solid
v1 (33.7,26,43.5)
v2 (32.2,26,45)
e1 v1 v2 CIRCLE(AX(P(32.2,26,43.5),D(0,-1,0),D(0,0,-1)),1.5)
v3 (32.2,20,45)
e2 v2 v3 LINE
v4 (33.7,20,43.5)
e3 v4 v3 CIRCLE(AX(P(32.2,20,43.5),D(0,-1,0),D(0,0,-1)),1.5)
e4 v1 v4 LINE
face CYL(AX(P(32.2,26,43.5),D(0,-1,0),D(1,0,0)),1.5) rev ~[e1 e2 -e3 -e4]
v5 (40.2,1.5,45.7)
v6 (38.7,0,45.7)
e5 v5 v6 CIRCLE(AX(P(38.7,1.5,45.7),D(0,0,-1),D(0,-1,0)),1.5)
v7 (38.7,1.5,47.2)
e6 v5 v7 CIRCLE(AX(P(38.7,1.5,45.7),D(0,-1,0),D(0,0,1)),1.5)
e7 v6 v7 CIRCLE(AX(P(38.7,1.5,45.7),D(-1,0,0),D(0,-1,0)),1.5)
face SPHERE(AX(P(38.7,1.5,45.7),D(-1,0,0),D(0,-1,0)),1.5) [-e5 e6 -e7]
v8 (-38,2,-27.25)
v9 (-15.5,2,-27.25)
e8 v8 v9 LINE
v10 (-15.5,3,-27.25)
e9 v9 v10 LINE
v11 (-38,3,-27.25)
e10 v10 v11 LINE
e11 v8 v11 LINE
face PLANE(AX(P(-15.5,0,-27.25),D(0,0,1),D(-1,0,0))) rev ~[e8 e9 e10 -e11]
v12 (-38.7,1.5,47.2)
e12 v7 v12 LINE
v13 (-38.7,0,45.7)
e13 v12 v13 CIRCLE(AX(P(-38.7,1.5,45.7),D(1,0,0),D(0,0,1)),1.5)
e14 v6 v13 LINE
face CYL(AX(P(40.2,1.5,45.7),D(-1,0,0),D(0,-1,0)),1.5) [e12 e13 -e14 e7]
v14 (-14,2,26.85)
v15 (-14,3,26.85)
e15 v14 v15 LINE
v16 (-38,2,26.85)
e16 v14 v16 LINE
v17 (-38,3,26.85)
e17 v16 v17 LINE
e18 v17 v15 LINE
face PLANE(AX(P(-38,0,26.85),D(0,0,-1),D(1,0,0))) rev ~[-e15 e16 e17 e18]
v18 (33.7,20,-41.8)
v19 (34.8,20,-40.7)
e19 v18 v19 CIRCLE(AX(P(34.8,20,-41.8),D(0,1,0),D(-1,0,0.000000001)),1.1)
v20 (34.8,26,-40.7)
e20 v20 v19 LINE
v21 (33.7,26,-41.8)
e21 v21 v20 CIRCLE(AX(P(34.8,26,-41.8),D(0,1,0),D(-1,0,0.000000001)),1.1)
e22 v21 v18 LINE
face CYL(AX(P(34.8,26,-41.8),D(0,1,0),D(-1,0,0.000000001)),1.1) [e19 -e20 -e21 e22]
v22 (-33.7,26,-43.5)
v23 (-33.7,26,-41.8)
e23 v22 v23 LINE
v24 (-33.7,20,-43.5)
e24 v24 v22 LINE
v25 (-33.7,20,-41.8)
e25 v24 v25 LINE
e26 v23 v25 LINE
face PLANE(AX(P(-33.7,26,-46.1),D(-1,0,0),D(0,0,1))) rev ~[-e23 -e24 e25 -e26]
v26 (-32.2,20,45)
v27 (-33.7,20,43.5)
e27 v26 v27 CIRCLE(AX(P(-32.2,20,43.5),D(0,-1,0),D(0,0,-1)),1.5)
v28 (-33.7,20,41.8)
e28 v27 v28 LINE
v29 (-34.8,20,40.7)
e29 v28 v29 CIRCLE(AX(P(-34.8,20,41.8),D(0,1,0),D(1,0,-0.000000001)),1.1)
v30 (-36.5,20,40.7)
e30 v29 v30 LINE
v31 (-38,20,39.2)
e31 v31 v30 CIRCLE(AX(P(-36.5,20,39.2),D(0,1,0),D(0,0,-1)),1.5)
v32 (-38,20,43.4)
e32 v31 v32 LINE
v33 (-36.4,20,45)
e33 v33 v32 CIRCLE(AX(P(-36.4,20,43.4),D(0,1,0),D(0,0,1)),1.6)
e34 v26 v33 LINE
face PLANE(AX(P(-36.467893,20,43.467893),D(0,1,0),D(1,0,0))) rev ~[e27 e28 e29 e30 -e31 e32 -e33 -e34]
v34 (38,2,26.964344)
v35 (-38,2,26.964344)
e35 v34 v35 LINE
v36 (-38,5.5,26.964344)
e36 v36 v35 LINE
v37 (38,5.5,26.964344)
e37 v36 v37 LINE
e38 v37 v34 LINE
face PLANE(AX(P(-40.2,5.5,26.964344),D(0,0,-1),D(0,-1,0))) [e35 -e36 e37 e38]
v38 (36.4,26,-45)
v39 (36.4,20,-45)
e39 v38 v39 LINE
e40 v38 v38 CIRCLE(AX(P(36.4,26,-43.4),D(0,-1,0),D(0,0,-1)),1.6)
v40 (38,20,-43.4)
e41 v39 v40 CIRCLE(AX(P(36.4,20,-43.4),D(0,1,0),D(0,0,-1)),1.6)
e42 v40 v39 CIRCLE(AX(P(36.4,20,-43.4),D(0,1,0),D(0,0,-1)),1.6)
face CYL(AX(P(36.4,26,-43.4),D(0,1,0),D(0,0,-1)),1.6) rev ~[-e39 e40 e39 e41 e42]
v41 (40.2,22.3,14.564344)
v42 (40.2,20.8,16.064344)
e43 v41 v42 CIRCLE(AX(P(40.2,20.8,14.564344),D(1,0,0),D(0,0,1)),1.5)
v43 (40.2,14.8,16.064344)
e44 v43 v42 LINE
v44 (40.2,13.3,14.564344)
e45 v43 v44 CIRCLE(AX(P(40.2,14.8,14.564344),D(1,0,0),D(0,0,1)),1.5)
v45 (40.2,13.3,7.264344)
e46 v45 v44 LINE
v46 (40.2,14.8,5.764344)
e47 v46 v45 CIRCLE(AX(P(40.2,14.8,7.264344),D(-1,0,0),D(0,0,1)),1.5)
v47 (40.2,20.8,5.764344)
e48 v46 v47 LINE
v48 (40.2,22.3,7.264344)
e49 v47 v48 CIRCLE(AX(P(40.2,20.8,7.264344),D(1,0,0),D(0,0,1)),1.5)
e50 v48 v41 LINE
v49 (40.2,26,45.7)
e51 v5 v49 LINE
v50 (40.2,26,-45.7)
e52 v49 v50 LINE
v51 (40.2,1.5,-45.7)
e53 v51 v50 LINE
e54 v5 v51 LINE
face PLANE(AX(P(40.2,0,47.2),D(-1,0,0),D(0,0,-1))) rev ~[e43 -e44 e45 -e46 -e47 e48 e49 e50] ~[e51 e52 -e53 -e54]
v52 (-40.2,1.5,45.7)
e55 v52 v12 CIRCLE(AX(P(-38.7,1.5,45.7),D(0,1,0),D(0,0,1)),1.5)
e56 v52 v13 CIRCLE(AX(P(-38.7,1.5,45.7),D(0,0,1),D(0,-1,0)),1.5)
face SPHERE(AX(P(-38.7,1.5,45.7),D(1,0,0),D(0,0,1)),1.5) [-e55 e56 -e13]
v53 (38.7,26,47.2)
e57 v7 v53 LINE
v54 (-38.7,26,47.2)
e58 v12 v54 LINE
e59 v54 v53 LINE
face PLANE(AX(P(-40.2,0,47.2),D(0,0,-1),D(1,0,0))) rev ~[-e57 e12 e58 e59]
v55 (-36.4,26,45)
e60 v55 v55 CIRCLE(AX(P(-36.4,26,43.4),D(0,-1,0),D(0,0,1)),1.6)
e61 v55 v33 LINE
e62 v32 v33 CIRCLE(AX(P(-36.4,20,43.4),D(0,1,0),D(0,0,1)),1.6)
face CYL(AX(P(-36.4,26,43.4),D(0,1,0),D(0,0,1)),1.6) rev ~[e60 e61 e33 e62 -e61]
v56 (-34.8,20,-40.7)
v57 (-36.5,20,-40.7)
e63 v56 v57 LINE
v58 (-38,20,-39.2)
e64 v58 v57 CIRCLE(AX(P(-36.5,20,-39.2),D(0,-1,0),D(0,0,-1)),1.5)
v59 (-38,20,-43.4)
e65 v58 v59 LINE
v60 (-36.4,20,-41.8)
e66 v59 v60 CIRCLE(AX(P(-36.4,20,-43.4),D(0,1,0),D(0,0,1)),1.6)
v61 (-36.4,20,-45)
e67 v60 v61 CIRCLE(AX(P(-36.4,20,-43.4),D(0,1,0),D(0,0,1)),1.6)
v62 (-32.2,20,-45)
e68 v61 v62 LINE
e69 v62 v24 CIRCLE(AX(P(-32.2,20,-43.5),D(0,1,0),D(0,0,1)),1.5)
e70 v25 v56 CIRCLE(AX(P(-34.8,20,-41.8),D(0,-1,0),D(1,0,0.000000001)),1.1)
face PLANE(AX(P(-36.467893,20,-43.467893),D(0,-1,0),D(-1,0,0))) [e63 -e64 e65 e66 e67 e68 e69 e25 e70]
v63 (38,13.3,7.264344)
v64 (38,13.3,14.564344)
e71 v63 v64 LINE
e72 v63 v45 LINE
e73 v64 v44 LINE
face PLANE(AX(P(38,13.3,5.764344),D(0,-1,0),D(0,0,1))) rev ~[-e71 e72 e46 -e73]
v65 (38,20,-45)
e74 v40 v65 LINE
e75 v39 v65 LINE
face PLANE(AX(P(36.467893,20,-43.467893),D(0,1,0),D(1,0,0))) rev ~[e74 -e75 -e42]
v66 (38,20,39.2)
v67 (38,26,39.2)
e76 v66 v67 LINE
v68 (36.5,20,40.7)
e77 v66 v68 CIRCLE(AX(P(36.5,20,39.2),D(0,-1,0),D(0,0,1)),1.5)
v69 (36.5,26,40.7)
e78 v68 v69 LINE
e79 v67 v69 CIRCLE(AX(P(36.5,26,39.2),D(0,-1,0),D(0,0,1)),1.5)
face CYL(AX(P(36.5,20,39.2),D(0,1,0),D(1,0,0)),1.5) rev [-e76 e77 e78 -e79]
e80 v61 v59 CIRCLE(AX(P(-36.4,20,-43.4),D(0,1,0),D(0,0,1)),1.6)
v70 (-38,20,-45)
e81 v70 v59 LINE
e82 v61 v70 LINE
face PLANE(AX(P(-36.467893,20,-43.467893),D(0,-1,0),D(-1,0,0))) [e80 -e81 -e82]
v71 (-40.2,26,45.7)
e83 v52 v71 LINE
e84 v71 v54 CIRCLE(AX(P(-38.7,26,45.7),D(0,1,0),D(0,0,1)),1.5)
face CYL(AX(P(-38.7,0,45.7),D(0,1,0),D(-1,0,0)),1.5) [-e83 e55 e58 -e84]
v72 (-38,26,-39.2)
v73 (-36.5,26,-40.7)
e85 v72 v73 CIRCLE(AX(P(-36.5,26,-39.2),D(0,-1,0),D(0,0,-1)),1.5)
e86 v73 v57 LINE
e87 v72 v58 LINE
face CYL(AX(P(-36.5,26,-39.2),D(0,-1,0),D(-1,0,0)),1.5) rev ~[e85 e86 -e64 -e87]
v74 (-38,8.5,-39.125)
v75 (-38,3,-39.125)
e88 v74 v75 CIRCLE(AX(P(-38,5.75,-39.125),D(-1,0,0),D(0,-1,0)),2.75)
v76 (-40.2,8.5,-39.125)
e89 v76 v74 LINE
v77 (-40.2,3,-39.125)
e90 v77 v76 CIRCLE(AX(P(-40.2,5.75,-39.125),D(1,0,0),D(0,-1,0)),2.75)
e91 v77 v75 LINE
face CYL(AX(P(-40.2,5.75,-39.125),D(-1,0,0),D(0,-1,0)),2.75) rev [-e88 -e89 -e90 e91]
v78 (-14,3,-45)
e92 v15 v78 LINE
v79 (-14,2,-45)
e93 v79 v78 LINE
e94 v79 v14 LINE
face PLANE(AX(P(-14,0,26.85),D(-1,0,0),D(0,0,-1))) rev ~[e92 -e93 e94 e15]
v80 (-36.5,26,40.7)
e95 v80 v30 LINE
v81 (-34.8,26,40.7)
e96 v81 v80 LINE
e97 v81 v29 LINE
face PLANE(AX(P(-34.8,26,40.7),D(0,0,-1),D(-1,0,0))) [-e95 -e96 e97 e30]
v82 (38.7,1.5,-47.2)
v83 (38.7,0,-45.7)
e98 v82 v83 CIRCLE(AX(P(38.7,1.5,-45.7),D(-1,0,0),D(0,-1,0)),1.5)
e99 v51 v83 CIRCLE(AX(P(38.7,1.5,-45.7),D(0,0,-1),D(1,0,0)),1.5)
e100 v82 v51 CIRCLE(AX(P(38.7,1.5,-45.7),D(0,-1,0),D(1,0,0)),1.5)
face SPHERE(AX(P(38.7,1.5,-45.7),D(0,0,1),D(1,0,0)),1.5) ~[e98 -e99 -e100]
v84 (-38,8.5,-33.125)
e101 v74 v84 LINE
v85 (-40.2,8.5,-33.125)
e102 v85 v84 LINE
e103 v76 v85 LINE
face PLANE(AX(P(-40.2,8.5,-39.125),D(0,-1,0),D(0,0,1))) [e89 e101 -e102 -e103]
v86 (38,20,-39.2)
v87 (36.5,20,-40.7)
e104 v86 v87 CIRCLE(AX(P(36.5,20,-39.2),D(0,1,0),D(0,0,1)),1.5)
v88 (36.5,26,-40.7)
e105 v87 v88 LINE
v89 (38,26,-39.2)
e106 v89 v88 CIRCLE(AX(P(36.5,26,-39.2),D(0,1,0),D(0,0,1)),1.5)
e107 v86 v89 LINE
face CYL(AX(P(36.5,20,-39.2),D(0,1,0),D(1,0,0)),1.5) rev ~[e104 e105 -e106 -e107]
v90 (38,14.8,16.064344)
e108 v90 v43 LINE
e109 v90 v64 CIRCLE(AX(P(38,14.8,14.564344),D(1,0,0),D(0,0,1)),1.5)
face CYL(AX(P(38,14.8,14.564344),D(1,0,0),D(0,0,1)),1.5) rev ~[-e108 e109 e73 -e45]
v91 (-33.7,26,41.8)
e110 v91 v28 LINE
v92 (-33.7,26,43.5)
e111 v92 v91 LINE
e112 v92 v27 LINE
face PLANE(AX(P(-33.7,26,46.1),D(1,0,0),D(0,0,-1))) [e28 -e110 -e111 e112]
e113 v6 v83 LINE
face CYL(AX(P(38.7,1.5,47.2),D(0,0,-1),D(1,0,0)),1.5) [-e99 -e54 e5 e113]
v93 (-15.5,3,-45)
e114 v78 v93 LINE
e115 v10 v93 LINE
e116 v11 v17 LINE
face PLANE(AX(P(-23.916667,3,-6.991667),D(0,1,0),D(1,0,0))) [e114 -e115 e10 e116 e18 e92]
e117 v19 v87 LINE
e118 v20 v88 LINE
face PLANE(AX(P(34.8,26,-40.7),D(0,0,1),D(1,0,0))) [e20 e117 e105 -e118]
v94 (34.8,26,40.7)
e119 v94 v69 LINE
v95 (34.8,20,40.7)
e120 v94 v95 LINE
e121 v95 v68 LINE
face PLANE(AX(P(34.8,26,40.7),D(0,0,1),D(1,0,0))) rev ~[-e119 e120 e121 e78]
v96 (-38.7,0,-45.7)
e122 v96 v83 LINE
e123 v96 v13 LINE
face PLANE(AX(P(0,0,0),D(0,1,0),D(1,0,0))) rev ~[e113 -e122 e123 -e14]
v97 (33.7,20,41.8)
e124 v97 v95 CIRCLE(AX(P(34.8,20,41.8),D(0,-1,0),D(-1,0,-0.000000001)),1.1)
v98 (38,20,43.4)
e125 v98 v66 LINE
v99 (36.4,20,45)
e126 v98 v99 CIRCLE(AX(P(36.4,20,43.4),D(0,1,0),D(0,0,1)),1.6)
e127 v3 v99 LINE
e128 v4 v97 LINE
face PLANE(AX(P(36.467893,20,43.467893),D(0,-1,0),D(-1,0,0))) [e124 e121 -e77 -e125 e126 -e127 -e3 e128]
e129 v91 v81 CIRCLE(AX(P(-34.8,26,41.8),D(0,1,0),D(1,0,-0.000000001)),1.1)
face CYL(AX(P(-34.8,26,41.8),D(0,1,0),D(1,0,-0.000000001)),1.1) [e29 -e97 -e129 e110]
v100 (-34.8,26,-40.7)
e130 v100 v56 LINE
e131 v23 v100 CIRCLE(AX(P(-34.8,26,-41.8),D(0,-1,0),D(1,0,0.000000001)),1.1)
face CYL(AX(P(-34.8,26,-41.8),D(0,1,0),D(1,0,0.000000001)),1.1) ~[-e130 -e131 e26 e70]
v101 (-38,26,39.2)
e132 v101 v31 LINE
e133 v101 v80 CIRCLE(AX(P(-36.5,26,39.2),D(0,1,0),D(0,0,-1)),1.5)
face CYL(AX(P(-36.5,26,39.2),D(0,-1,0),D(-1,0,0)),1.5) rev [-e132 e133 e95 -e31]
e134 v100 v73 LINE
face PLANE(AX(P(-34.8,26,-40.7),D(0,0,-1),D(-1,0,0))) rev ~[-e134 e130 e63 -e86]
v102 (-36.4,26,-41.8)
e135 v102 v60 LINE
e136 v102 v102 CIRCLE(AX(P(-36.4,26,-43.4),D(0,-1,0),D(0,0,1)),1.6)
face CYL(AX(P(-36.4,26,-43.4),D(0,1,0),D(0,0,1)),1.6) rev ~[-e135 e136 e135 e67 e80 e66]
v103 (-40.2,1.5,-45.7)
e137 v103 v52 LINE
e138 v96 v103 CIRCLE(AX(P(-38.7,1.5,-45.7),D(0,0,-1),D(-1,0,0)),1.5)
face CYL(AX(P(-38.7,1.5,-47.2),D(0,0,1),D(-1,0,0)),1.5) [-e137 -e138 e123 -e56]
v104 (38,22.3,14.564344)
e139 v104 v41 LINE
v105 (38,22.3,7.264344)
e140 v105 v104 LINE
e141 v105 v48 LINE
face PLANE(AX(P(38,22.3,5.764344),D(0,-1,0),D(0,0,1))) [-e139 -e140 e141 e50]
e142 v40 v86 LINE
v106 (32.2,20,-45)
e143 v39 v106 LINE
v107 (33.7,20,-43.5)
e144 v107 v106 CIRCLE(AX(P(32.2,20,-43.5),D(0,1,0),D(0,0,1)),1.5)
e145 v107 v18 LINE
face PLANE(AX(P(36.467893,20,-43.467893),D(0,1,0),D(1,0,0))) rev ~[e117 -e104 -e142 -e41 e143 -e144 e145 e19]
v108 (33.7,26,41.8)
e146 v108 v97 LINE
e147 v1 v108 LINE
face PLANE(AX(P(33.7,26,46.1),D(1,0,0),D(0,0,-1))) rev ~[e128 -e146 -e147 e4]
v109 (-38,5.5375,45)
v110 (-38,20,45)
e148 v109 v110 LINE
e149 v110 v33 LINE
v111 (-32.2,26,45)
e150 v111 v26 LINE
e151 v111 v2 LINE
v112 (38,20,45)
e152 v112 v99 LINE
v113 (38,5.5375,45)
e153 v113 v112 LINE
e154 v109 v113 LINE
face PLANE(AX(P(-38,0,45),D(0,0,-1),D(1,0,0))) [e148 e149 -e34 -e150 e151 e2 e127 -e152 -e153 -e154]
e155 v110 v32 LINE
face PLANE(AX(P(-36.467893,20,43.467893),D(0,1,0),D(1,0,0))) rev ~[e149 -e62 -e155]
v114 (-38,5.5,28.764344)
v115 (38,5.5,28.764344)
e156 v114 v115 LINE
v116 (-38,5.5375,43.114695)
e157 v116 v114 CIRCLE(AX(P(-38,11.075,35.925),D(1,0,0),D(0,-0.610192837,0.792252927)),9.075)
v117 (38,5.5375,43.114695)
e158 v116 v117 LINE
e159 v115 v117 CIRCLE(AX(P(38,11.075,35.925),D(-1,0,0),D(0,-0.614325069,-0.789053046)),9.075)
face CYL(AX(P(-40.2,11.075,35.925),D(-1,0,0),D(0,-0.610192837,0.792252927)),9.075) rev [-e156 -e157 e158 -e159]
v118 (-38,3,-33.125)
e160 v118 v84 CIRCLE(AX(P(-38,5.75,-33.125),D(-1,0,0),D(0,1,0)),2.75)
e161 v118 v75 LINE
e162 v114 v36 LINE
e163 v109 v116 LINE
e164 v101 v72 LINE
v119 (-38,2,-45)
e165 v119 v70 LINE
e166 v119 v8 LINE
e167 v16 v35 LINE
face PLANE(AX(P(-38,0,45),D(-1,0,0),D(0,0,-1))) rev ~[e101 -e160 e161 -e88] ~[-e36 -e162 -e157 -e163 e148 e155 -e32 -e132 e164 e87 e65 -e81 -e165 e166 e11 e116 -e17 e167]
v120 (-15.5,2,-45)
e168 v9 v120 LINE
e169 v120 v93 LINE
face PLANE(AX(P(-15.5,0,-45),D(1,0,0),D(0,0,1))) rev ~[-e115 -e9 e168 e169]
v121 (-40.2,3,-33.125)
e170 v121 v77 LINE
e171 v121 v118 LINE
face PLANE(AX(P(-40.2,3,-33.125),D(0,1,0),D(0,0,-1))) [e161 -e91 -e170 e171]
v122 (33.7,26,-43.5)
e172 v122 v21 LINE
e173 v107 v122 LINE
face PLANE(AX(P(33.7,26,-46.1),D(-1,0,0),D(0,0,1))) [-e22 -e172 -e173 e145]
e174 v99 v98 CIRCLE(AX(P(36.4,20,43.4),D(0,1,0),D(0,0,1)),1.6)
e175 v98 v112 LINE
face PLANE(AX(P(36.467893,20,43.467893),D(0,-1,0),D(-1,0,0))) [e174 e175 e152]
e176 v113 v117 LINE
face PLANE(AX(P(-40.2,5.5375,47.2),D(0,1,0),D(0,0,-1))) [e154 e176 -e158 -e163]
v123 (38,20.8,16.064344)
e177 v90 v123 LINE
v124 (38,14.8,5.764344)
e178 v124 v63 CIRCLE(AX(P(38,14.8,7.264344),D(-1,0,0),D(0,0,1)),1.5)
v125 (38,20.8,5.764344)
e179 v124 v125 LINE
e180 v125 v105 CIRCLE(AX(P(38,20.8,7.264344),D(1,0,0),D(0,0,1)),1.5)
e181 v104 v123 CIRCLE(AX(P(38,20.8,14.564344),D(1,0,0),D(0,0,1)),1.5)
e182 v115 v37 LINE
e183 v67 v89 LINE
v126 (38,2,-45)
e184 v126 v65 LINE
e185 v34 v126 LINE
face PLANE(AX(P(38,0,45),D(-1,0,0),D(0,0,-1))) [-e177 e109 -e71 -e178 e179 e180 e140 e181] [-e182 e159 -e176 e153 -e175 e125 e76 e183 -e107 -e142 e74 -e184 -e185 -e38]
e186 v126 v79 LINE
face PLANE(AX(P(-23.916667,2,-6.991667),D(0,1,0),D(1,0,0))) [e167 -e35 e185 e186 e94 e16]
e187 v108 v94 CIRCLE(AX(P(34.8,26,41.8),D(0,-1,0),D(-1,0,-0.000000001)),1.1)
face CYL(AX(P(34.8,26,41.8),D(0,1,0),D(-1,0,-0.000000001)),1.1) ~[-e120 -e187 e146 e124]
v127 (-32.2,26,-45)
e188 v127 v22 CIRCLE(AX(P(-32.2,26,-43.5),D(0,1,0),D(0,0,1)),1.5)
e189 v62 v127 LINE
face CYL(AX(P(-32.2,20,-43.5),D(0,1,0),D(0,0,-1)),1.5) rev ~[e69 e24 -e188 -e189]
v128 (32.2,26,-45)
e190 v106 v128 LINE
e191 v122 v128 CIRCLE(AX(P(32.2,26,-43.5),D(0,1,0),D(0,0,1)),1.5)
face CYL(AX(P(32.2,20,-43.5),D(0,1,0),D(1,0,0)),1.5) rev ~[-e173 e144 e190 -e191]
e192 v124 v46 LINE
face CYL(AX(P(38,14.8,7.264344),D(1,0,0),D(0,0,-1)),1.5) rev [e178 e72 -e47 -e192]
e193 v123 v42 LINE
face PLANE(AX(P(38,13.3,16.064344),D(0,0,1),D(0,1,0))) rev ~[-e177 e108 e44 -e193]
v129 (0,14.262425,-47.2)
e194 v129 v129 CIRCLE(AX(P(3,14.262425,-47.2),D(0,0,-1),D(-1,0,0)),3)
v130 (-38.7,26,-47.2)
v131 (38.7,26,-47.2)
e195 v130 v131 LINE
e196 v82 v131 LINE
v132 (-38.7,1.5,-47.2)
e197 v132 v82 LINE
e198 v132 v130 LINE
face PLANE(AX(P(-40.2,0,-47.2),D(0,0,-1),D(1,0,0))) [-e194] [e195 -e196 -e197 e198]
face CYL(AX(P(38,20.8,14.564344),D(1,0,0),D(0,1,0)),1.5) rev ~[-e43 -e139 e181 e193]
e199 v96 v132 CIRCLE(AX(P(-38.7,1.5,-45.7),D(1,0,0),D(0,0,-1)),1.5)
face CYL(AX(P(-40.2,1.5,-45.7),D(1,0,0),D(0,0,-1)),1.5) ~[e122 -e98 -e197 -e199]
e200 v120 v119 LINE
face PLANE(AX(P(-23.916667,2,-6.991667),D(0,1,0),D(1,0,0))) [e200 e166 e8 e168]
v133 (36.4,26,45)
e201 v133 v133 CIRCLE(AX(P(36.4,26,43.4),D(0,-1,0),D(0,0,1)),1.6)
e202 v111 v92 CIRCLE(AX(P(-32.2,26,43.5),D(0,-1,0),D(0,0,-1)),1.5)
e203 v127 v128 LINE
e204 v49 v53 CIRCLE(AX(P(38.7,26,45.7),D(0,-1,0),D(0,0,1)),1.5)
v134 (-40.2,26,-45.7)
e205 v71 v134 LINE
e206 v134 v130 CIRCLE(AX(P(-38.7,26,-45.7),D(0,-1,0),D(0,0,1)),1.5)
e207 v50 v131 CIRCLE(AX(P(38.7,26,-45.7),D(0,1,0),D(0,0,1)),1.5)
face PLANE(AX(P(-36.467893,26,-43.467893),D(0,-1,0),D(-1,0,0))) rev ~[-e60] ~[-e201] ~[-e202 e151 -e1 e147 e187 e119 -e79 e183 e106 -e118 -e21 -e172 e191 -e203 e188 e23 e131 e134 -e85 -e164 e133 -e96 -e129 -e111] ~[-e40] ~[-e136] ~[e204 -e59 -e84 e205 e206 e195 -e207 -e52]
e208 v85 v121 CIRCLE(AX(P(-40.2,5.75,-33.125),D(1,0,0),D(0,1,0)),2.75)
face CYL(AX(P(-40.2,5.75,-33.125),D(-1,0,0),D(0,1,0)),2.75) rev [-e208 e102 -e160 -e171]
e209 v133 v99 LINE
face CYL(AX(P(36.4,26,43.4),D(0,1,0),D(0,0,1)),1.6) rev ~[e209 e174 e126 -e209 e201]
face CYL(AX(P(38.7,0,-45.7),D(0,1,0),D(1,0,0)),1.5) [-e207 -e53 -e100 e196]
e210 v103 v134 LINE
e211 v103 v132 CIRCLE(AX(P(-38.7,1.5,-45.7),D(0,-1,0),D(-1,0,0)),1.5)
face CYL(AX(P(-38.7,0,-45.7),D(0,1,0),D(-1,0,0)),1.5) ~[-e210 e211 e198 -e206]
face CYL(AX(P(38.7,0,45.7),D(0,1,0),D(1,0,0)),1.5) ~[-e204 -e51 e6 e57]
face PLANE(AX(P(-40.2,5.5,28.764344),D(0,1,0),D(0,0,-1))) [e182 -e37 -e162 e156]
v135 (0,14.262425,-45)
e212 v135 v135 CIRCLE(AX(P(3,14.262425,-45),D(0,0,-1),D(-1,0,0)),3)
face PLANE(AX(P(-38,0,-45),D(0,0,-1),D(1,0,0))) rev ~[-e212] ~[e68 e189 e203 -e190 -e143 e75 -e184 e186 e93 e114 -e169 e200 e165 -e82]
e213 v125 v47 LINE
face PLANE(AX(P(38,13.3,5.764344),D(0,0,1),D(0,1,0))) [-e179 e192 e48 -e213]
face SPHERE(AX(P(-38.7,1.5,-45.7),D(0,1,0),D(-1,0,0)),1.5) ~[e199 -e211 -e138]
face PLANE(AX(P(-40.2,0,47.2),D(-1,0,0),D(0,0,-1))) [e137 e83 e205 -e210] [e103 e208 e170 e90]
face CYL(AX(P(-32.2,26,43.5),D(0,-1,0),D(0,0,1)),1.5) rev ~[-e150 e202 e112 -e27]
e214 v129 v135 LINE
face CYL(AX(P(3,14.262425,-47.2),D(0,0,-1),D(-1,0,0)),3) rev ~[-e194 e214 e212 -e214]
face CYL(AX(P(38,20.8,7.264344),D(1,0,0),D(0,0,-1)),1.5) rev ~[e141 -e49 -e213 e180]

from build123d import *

# Parameters (mm, degrees)
SKETCH1_W           = 22.5
SKETCH1_H           = 17.75
SKETCH1_W_2         = 52
SKETCH1_H_2         = 71.85
BOSS_EXTRUDE1_DEPTH = 2
BOSS_EXTRUDE2_DEPTH = 3
SKETCH1_4_W         = 80.4
SKETCH1_4_H         = 94.4
SKETCH1_4_W_2       = 76
SKETCH1_4_H_2       = 90
BOSS_EXTRUDE3_DEPTH = 26
BOSS_EXTRUDE4_DEPTH = 78.2
CUT_EXTRUDE1_START  = -78.2
SKETCH2_3_W         = 10.3
SKETCH2_3_H         = 9
CUT_EXTRUDE1_DEPTH  = 26
CUT_EXTRUDE2_DEPTH  = 26
FILLET1_R           = 1.5
SKETCH4_R           = 3
CUT_EXTRUDE3_DEPTH  = 26
SKETCH5_R           = 1.6
BOSS_EXTRUDE5_DEPTH = 6
FILLET2_R           = 1.5


with BuildPart() as part:
    # Sketch1 → Boss-Extrude1 (new body)
    with BuildSketch(Plane(origin=(0, 0, 0), x_dir=(1, 0, 0), z_dir=(0, 1, 0))):
        Polygon((-38, -26.85), (-14, -26.85), (-14, 45), (-15.5, 45), (-15.5, 27.25), (-38, 27.25), align=None)
        with Locations((-26.75, 36.125)):
            Rectangle(SKETCH1_W, SKETCH1_H)
        with Locations((12, 9.075)):
            Rectangle(SKETCH1_W_2, SKETCH1_H_2)
        Polygon((38, -45), (38, -26.85), (-14, -26.85), (-38, -26.85), (-38, -45), align=None)
    extrude(amount=BOSS_EXTRUDE1_DEPTH)

    # Sketch1<3> → Boss-Extrude2 (add)
    with BuildSketch(Plane(origin=(0, 0, 0), x_dir=(1, 0, 0), z_dir=(0, 1, 0))):
        Polygon((-38, -26.85), (-14, -26.85), (-14, 45), (-15.5, 45), (-15.5, 27.25), (-38, 27.25), align=None)
    extrude(amount=BOSS_EXTRUDE2_DEPTH)

    # Sketch1<4> → Boss-Extrude3 (add)
    with BuildSketch(Plane(origin=(0, 0, 0), x_dir=(1, 0, 0), z_dir=(0, 1, 0))):
        Rectangle(SKETCH1_4_W, SKETCH1_4_H)
        Rectangle(SKETCH1_4_W_2, SKETCH1_4_H_2, mode=Mode.SUBTRACT)
    extrude(amount=BOSS_EXTRUDE3_DEPTH)

    # Sketch2 → Boss-Extrude4 (add)
    with BuildSketch(Plane.ZY.offset(40.2)):
        with BuildLine():
            Line((28.764343606, 5.5), (26.964343606, 5.5))
            Line((26.964343606, 5.5), (26.964343606, 0))
            Line((26.964343606, 0), (41.904953918, 0))
            Line((41.904953918, 0), (47.2, 0))
            Line((47.2, 0), (47.2, 5.5375))
            Line((47.2, 5.5375), (45, 5.5375))
            Line((45, 5.5375), (43.114695317, 5.5375))
            ThreePointArc((43.114695317, 5.5375), (35.948714495, 2.000030985), (28.764343606, 5.5))
        make_face()
    extrude(amount=-BOSS_EXTRUDE4_DEPTH)

    # Sketch2<3> → Cut-Extrude1 (cut)
    with BuildSketch(Plane.ZY.offset(40.2).offset(CUT_EXTRUDE1_START)):
        with Locations((10.914343606, 17.8)):
            Rectangle(SKETCH2_3_W, SKETCH2_3_H)
    extrude(amount=-CUT_EXTRUDE1_DEPTH, mode=Mode.SUBTRACT)

    # Sketch3 → Cut-Extrude2 (cut)
    with BuildSketch(Plane.ZY.offset(40.2)):
        with BuildLine():
            Line((-39.125, 8.5), (-33.125, 8.5))
            ThreePointArc((-33.125, 8.5), (-30.375, 5.75), (-33.125, 3))
            Line((-33.125, 3), (-39.125, 3))
            ThreePointArc((-39.125, 3), (-41.875, 5.75), (-39.125, 8.5))
        make_face()
    extrude(amount=-CUT_EXTRUDE2_DEPTH, mode=Mode.SUBTRACT)

    # Fillet1
    fillet1_edges = [part.edges().sort_by_distance(p)[0] for p in [
        (39.1, 22.3, 16.064343606),
        (39.1, 13.3, 16.064343606),
        (39.1, 13.3, 5.764343606),
        (39.1, 22.3, 5.764343606),
        (0, 0, 47.2),
        (-40.2, 13, 47.2),
        (40.2, 0, 0),
        (40.2, 13, 47.2),
        (40.2, 13, -47.2),
        (-40.2, 13, -47.2),
        (-40.2, 0, 0),
        (0, 0, -47.2),
    ]]
    fillet(fillet1_edges, radius=FILLET1_R)

    # Sketch4 → Cut-Extrude3 (cut)
    with BuildSketch(Plane(origin=(0, 0, -47.2), x_dir=(-1, 0, 0), z_dir=(0, 0, -1))):
        with Locations((-3, 14.26242493)):
            Circle(SKETCH4_R)
    extrude(amount=-CUT_EXTRUDE3_DEPTH, mode=Mode.SUBTRACT)

    # Sketch5 → Boss-Extrude5 (add)
    # profile 1 of 4: a face of its own
    with BuildSketch(Plane(origin=(0, 26, 0), x_dir=(1, 0, 0), z_dir=(0, 1, 0))):
        with BuildLine():
            Line((-33.7, 45), (-33.7, 41.8))
            ThreePointArc((-33.7, 41.8), (-34.022182541, 41.022182541), (-34.8, 40.7))
            Line((-34.8, 40.7), (-38, 40.7))
            Line((-38, 40.7), (-39.1, 40.7))
            Line((-39.1, 40.7), (-39.1, 46.1))
            Line((-39.1, 46.1), (-33.7, 46.1))
            Line((-33.7, 46.1), (-33.7, 45))
        make_face()
        with Locations(Location((-36.4, 43.4, 0), (0, 0, 270))):
            Circle(SKETCH5_R, mode=Mode.SUBTRACT)
    # profile 2 of 4: a face of its own
    with BuildSketch(Plane(origin=(0, 26, 0), x_dir=(1, 0, 0), z_dir=(0, 1, 0))):
        with BuildLine():
            Line((33.7, 46.1), (33.7, 45))
            Line((33.7, 45), (33.7, 41.8))
            ThreePointArc((33.7, 41.8), (34.022182541, 41.022182541), (34.8, 40.7))
            Line((34.8, 40.7), (38, 40.7))
            Line((38, 40.7), (39.1, 40.7))
            Line((39.1, 40.7), (39.1, 46.1))
            Line((39.1, 46.1), (33.7, 46.1))
        make_face()
        with Locations(Location((36.4, 43.4, 0), (0, 0, 90))):
            Circle(SKETCH5_R, mode=Mode.SUBTRACT)
    # profile 3 of 4: a face of its own
    with BuildSketch(Plane(origin=(0, 26, 0), x_dir=(1, 0, 0), z_dir=(0, 1, 0))):
        with BuildLine():
            Line((33.7, -45), (33.7, -41.8))
            ThreePointArc((33.7, -41.8), (34.022182541, -41.022182541), (34.8, -40.7))
            Line((34.8, -40.7), (38, -40.7))
            Line((38, -40.7), (39.1, -40.7))
            Line((39.1, -40.7), (39.1, -46.1))
            Line((39.1, -46.1), (33.7, -46.1))
            Line((33.7, -46.1), (33.7, -45))
        make_face()
        with Locations(Location((36.4, -43.4, 0), (0, 0, 270))):
            Circle(SKETCH5_R, mode=Mode.SUBTRACT)
    # profile 4 of 4: a face of its own
    with BuildSketch(Plane(origin=(0, 26, 0), x_dir=(1, 0, 0), z_dir=(0, 1, 0))):
        with BuildLine():
            Line((-33.7, -46.1), (-33.7, -45))
            Line((-33.7, -45), (-33.7, -41.8))
            ThreePointArc((-33.7, -41.8), (-34.022182541, -41.022182541), (-34.8, -40.7))
            Line((-34.8, -40.7), (-38, -40.7))
            Line((-38, -40.7), (-39.1, -40.7))
            Line((-39.1, -40.7), (-39.1, -46.1))
            Line((-39.1, -46.1), (-33.7, -46.1))
        make_face()
        with Locations(Location((-36.4, -43.4, 0), (0, 0, 270))):
            Circle(SKETCH5_R, mode=Mode.SUBTRACT)
    extrude(amount=-BOSS_EXTRUDE5_DEPTH)

    # Fillet2
    fillet2_edges = [part.edges().sort_by_distance(p)[0] for p in [
        (-33.7, 23, -45),
        (-38, 23, -40.7),
        (33.7, 23, -45),
        (38, 23, -40.7),
        (38, 23, 40.7),
        (33.7, 23, 45),
        (-33.7, 23, 45),
        (-38, 23, 40.7),
    ]]
    fillet(fillet2_edges, radius=FILLET2_R)


solid = part.part
